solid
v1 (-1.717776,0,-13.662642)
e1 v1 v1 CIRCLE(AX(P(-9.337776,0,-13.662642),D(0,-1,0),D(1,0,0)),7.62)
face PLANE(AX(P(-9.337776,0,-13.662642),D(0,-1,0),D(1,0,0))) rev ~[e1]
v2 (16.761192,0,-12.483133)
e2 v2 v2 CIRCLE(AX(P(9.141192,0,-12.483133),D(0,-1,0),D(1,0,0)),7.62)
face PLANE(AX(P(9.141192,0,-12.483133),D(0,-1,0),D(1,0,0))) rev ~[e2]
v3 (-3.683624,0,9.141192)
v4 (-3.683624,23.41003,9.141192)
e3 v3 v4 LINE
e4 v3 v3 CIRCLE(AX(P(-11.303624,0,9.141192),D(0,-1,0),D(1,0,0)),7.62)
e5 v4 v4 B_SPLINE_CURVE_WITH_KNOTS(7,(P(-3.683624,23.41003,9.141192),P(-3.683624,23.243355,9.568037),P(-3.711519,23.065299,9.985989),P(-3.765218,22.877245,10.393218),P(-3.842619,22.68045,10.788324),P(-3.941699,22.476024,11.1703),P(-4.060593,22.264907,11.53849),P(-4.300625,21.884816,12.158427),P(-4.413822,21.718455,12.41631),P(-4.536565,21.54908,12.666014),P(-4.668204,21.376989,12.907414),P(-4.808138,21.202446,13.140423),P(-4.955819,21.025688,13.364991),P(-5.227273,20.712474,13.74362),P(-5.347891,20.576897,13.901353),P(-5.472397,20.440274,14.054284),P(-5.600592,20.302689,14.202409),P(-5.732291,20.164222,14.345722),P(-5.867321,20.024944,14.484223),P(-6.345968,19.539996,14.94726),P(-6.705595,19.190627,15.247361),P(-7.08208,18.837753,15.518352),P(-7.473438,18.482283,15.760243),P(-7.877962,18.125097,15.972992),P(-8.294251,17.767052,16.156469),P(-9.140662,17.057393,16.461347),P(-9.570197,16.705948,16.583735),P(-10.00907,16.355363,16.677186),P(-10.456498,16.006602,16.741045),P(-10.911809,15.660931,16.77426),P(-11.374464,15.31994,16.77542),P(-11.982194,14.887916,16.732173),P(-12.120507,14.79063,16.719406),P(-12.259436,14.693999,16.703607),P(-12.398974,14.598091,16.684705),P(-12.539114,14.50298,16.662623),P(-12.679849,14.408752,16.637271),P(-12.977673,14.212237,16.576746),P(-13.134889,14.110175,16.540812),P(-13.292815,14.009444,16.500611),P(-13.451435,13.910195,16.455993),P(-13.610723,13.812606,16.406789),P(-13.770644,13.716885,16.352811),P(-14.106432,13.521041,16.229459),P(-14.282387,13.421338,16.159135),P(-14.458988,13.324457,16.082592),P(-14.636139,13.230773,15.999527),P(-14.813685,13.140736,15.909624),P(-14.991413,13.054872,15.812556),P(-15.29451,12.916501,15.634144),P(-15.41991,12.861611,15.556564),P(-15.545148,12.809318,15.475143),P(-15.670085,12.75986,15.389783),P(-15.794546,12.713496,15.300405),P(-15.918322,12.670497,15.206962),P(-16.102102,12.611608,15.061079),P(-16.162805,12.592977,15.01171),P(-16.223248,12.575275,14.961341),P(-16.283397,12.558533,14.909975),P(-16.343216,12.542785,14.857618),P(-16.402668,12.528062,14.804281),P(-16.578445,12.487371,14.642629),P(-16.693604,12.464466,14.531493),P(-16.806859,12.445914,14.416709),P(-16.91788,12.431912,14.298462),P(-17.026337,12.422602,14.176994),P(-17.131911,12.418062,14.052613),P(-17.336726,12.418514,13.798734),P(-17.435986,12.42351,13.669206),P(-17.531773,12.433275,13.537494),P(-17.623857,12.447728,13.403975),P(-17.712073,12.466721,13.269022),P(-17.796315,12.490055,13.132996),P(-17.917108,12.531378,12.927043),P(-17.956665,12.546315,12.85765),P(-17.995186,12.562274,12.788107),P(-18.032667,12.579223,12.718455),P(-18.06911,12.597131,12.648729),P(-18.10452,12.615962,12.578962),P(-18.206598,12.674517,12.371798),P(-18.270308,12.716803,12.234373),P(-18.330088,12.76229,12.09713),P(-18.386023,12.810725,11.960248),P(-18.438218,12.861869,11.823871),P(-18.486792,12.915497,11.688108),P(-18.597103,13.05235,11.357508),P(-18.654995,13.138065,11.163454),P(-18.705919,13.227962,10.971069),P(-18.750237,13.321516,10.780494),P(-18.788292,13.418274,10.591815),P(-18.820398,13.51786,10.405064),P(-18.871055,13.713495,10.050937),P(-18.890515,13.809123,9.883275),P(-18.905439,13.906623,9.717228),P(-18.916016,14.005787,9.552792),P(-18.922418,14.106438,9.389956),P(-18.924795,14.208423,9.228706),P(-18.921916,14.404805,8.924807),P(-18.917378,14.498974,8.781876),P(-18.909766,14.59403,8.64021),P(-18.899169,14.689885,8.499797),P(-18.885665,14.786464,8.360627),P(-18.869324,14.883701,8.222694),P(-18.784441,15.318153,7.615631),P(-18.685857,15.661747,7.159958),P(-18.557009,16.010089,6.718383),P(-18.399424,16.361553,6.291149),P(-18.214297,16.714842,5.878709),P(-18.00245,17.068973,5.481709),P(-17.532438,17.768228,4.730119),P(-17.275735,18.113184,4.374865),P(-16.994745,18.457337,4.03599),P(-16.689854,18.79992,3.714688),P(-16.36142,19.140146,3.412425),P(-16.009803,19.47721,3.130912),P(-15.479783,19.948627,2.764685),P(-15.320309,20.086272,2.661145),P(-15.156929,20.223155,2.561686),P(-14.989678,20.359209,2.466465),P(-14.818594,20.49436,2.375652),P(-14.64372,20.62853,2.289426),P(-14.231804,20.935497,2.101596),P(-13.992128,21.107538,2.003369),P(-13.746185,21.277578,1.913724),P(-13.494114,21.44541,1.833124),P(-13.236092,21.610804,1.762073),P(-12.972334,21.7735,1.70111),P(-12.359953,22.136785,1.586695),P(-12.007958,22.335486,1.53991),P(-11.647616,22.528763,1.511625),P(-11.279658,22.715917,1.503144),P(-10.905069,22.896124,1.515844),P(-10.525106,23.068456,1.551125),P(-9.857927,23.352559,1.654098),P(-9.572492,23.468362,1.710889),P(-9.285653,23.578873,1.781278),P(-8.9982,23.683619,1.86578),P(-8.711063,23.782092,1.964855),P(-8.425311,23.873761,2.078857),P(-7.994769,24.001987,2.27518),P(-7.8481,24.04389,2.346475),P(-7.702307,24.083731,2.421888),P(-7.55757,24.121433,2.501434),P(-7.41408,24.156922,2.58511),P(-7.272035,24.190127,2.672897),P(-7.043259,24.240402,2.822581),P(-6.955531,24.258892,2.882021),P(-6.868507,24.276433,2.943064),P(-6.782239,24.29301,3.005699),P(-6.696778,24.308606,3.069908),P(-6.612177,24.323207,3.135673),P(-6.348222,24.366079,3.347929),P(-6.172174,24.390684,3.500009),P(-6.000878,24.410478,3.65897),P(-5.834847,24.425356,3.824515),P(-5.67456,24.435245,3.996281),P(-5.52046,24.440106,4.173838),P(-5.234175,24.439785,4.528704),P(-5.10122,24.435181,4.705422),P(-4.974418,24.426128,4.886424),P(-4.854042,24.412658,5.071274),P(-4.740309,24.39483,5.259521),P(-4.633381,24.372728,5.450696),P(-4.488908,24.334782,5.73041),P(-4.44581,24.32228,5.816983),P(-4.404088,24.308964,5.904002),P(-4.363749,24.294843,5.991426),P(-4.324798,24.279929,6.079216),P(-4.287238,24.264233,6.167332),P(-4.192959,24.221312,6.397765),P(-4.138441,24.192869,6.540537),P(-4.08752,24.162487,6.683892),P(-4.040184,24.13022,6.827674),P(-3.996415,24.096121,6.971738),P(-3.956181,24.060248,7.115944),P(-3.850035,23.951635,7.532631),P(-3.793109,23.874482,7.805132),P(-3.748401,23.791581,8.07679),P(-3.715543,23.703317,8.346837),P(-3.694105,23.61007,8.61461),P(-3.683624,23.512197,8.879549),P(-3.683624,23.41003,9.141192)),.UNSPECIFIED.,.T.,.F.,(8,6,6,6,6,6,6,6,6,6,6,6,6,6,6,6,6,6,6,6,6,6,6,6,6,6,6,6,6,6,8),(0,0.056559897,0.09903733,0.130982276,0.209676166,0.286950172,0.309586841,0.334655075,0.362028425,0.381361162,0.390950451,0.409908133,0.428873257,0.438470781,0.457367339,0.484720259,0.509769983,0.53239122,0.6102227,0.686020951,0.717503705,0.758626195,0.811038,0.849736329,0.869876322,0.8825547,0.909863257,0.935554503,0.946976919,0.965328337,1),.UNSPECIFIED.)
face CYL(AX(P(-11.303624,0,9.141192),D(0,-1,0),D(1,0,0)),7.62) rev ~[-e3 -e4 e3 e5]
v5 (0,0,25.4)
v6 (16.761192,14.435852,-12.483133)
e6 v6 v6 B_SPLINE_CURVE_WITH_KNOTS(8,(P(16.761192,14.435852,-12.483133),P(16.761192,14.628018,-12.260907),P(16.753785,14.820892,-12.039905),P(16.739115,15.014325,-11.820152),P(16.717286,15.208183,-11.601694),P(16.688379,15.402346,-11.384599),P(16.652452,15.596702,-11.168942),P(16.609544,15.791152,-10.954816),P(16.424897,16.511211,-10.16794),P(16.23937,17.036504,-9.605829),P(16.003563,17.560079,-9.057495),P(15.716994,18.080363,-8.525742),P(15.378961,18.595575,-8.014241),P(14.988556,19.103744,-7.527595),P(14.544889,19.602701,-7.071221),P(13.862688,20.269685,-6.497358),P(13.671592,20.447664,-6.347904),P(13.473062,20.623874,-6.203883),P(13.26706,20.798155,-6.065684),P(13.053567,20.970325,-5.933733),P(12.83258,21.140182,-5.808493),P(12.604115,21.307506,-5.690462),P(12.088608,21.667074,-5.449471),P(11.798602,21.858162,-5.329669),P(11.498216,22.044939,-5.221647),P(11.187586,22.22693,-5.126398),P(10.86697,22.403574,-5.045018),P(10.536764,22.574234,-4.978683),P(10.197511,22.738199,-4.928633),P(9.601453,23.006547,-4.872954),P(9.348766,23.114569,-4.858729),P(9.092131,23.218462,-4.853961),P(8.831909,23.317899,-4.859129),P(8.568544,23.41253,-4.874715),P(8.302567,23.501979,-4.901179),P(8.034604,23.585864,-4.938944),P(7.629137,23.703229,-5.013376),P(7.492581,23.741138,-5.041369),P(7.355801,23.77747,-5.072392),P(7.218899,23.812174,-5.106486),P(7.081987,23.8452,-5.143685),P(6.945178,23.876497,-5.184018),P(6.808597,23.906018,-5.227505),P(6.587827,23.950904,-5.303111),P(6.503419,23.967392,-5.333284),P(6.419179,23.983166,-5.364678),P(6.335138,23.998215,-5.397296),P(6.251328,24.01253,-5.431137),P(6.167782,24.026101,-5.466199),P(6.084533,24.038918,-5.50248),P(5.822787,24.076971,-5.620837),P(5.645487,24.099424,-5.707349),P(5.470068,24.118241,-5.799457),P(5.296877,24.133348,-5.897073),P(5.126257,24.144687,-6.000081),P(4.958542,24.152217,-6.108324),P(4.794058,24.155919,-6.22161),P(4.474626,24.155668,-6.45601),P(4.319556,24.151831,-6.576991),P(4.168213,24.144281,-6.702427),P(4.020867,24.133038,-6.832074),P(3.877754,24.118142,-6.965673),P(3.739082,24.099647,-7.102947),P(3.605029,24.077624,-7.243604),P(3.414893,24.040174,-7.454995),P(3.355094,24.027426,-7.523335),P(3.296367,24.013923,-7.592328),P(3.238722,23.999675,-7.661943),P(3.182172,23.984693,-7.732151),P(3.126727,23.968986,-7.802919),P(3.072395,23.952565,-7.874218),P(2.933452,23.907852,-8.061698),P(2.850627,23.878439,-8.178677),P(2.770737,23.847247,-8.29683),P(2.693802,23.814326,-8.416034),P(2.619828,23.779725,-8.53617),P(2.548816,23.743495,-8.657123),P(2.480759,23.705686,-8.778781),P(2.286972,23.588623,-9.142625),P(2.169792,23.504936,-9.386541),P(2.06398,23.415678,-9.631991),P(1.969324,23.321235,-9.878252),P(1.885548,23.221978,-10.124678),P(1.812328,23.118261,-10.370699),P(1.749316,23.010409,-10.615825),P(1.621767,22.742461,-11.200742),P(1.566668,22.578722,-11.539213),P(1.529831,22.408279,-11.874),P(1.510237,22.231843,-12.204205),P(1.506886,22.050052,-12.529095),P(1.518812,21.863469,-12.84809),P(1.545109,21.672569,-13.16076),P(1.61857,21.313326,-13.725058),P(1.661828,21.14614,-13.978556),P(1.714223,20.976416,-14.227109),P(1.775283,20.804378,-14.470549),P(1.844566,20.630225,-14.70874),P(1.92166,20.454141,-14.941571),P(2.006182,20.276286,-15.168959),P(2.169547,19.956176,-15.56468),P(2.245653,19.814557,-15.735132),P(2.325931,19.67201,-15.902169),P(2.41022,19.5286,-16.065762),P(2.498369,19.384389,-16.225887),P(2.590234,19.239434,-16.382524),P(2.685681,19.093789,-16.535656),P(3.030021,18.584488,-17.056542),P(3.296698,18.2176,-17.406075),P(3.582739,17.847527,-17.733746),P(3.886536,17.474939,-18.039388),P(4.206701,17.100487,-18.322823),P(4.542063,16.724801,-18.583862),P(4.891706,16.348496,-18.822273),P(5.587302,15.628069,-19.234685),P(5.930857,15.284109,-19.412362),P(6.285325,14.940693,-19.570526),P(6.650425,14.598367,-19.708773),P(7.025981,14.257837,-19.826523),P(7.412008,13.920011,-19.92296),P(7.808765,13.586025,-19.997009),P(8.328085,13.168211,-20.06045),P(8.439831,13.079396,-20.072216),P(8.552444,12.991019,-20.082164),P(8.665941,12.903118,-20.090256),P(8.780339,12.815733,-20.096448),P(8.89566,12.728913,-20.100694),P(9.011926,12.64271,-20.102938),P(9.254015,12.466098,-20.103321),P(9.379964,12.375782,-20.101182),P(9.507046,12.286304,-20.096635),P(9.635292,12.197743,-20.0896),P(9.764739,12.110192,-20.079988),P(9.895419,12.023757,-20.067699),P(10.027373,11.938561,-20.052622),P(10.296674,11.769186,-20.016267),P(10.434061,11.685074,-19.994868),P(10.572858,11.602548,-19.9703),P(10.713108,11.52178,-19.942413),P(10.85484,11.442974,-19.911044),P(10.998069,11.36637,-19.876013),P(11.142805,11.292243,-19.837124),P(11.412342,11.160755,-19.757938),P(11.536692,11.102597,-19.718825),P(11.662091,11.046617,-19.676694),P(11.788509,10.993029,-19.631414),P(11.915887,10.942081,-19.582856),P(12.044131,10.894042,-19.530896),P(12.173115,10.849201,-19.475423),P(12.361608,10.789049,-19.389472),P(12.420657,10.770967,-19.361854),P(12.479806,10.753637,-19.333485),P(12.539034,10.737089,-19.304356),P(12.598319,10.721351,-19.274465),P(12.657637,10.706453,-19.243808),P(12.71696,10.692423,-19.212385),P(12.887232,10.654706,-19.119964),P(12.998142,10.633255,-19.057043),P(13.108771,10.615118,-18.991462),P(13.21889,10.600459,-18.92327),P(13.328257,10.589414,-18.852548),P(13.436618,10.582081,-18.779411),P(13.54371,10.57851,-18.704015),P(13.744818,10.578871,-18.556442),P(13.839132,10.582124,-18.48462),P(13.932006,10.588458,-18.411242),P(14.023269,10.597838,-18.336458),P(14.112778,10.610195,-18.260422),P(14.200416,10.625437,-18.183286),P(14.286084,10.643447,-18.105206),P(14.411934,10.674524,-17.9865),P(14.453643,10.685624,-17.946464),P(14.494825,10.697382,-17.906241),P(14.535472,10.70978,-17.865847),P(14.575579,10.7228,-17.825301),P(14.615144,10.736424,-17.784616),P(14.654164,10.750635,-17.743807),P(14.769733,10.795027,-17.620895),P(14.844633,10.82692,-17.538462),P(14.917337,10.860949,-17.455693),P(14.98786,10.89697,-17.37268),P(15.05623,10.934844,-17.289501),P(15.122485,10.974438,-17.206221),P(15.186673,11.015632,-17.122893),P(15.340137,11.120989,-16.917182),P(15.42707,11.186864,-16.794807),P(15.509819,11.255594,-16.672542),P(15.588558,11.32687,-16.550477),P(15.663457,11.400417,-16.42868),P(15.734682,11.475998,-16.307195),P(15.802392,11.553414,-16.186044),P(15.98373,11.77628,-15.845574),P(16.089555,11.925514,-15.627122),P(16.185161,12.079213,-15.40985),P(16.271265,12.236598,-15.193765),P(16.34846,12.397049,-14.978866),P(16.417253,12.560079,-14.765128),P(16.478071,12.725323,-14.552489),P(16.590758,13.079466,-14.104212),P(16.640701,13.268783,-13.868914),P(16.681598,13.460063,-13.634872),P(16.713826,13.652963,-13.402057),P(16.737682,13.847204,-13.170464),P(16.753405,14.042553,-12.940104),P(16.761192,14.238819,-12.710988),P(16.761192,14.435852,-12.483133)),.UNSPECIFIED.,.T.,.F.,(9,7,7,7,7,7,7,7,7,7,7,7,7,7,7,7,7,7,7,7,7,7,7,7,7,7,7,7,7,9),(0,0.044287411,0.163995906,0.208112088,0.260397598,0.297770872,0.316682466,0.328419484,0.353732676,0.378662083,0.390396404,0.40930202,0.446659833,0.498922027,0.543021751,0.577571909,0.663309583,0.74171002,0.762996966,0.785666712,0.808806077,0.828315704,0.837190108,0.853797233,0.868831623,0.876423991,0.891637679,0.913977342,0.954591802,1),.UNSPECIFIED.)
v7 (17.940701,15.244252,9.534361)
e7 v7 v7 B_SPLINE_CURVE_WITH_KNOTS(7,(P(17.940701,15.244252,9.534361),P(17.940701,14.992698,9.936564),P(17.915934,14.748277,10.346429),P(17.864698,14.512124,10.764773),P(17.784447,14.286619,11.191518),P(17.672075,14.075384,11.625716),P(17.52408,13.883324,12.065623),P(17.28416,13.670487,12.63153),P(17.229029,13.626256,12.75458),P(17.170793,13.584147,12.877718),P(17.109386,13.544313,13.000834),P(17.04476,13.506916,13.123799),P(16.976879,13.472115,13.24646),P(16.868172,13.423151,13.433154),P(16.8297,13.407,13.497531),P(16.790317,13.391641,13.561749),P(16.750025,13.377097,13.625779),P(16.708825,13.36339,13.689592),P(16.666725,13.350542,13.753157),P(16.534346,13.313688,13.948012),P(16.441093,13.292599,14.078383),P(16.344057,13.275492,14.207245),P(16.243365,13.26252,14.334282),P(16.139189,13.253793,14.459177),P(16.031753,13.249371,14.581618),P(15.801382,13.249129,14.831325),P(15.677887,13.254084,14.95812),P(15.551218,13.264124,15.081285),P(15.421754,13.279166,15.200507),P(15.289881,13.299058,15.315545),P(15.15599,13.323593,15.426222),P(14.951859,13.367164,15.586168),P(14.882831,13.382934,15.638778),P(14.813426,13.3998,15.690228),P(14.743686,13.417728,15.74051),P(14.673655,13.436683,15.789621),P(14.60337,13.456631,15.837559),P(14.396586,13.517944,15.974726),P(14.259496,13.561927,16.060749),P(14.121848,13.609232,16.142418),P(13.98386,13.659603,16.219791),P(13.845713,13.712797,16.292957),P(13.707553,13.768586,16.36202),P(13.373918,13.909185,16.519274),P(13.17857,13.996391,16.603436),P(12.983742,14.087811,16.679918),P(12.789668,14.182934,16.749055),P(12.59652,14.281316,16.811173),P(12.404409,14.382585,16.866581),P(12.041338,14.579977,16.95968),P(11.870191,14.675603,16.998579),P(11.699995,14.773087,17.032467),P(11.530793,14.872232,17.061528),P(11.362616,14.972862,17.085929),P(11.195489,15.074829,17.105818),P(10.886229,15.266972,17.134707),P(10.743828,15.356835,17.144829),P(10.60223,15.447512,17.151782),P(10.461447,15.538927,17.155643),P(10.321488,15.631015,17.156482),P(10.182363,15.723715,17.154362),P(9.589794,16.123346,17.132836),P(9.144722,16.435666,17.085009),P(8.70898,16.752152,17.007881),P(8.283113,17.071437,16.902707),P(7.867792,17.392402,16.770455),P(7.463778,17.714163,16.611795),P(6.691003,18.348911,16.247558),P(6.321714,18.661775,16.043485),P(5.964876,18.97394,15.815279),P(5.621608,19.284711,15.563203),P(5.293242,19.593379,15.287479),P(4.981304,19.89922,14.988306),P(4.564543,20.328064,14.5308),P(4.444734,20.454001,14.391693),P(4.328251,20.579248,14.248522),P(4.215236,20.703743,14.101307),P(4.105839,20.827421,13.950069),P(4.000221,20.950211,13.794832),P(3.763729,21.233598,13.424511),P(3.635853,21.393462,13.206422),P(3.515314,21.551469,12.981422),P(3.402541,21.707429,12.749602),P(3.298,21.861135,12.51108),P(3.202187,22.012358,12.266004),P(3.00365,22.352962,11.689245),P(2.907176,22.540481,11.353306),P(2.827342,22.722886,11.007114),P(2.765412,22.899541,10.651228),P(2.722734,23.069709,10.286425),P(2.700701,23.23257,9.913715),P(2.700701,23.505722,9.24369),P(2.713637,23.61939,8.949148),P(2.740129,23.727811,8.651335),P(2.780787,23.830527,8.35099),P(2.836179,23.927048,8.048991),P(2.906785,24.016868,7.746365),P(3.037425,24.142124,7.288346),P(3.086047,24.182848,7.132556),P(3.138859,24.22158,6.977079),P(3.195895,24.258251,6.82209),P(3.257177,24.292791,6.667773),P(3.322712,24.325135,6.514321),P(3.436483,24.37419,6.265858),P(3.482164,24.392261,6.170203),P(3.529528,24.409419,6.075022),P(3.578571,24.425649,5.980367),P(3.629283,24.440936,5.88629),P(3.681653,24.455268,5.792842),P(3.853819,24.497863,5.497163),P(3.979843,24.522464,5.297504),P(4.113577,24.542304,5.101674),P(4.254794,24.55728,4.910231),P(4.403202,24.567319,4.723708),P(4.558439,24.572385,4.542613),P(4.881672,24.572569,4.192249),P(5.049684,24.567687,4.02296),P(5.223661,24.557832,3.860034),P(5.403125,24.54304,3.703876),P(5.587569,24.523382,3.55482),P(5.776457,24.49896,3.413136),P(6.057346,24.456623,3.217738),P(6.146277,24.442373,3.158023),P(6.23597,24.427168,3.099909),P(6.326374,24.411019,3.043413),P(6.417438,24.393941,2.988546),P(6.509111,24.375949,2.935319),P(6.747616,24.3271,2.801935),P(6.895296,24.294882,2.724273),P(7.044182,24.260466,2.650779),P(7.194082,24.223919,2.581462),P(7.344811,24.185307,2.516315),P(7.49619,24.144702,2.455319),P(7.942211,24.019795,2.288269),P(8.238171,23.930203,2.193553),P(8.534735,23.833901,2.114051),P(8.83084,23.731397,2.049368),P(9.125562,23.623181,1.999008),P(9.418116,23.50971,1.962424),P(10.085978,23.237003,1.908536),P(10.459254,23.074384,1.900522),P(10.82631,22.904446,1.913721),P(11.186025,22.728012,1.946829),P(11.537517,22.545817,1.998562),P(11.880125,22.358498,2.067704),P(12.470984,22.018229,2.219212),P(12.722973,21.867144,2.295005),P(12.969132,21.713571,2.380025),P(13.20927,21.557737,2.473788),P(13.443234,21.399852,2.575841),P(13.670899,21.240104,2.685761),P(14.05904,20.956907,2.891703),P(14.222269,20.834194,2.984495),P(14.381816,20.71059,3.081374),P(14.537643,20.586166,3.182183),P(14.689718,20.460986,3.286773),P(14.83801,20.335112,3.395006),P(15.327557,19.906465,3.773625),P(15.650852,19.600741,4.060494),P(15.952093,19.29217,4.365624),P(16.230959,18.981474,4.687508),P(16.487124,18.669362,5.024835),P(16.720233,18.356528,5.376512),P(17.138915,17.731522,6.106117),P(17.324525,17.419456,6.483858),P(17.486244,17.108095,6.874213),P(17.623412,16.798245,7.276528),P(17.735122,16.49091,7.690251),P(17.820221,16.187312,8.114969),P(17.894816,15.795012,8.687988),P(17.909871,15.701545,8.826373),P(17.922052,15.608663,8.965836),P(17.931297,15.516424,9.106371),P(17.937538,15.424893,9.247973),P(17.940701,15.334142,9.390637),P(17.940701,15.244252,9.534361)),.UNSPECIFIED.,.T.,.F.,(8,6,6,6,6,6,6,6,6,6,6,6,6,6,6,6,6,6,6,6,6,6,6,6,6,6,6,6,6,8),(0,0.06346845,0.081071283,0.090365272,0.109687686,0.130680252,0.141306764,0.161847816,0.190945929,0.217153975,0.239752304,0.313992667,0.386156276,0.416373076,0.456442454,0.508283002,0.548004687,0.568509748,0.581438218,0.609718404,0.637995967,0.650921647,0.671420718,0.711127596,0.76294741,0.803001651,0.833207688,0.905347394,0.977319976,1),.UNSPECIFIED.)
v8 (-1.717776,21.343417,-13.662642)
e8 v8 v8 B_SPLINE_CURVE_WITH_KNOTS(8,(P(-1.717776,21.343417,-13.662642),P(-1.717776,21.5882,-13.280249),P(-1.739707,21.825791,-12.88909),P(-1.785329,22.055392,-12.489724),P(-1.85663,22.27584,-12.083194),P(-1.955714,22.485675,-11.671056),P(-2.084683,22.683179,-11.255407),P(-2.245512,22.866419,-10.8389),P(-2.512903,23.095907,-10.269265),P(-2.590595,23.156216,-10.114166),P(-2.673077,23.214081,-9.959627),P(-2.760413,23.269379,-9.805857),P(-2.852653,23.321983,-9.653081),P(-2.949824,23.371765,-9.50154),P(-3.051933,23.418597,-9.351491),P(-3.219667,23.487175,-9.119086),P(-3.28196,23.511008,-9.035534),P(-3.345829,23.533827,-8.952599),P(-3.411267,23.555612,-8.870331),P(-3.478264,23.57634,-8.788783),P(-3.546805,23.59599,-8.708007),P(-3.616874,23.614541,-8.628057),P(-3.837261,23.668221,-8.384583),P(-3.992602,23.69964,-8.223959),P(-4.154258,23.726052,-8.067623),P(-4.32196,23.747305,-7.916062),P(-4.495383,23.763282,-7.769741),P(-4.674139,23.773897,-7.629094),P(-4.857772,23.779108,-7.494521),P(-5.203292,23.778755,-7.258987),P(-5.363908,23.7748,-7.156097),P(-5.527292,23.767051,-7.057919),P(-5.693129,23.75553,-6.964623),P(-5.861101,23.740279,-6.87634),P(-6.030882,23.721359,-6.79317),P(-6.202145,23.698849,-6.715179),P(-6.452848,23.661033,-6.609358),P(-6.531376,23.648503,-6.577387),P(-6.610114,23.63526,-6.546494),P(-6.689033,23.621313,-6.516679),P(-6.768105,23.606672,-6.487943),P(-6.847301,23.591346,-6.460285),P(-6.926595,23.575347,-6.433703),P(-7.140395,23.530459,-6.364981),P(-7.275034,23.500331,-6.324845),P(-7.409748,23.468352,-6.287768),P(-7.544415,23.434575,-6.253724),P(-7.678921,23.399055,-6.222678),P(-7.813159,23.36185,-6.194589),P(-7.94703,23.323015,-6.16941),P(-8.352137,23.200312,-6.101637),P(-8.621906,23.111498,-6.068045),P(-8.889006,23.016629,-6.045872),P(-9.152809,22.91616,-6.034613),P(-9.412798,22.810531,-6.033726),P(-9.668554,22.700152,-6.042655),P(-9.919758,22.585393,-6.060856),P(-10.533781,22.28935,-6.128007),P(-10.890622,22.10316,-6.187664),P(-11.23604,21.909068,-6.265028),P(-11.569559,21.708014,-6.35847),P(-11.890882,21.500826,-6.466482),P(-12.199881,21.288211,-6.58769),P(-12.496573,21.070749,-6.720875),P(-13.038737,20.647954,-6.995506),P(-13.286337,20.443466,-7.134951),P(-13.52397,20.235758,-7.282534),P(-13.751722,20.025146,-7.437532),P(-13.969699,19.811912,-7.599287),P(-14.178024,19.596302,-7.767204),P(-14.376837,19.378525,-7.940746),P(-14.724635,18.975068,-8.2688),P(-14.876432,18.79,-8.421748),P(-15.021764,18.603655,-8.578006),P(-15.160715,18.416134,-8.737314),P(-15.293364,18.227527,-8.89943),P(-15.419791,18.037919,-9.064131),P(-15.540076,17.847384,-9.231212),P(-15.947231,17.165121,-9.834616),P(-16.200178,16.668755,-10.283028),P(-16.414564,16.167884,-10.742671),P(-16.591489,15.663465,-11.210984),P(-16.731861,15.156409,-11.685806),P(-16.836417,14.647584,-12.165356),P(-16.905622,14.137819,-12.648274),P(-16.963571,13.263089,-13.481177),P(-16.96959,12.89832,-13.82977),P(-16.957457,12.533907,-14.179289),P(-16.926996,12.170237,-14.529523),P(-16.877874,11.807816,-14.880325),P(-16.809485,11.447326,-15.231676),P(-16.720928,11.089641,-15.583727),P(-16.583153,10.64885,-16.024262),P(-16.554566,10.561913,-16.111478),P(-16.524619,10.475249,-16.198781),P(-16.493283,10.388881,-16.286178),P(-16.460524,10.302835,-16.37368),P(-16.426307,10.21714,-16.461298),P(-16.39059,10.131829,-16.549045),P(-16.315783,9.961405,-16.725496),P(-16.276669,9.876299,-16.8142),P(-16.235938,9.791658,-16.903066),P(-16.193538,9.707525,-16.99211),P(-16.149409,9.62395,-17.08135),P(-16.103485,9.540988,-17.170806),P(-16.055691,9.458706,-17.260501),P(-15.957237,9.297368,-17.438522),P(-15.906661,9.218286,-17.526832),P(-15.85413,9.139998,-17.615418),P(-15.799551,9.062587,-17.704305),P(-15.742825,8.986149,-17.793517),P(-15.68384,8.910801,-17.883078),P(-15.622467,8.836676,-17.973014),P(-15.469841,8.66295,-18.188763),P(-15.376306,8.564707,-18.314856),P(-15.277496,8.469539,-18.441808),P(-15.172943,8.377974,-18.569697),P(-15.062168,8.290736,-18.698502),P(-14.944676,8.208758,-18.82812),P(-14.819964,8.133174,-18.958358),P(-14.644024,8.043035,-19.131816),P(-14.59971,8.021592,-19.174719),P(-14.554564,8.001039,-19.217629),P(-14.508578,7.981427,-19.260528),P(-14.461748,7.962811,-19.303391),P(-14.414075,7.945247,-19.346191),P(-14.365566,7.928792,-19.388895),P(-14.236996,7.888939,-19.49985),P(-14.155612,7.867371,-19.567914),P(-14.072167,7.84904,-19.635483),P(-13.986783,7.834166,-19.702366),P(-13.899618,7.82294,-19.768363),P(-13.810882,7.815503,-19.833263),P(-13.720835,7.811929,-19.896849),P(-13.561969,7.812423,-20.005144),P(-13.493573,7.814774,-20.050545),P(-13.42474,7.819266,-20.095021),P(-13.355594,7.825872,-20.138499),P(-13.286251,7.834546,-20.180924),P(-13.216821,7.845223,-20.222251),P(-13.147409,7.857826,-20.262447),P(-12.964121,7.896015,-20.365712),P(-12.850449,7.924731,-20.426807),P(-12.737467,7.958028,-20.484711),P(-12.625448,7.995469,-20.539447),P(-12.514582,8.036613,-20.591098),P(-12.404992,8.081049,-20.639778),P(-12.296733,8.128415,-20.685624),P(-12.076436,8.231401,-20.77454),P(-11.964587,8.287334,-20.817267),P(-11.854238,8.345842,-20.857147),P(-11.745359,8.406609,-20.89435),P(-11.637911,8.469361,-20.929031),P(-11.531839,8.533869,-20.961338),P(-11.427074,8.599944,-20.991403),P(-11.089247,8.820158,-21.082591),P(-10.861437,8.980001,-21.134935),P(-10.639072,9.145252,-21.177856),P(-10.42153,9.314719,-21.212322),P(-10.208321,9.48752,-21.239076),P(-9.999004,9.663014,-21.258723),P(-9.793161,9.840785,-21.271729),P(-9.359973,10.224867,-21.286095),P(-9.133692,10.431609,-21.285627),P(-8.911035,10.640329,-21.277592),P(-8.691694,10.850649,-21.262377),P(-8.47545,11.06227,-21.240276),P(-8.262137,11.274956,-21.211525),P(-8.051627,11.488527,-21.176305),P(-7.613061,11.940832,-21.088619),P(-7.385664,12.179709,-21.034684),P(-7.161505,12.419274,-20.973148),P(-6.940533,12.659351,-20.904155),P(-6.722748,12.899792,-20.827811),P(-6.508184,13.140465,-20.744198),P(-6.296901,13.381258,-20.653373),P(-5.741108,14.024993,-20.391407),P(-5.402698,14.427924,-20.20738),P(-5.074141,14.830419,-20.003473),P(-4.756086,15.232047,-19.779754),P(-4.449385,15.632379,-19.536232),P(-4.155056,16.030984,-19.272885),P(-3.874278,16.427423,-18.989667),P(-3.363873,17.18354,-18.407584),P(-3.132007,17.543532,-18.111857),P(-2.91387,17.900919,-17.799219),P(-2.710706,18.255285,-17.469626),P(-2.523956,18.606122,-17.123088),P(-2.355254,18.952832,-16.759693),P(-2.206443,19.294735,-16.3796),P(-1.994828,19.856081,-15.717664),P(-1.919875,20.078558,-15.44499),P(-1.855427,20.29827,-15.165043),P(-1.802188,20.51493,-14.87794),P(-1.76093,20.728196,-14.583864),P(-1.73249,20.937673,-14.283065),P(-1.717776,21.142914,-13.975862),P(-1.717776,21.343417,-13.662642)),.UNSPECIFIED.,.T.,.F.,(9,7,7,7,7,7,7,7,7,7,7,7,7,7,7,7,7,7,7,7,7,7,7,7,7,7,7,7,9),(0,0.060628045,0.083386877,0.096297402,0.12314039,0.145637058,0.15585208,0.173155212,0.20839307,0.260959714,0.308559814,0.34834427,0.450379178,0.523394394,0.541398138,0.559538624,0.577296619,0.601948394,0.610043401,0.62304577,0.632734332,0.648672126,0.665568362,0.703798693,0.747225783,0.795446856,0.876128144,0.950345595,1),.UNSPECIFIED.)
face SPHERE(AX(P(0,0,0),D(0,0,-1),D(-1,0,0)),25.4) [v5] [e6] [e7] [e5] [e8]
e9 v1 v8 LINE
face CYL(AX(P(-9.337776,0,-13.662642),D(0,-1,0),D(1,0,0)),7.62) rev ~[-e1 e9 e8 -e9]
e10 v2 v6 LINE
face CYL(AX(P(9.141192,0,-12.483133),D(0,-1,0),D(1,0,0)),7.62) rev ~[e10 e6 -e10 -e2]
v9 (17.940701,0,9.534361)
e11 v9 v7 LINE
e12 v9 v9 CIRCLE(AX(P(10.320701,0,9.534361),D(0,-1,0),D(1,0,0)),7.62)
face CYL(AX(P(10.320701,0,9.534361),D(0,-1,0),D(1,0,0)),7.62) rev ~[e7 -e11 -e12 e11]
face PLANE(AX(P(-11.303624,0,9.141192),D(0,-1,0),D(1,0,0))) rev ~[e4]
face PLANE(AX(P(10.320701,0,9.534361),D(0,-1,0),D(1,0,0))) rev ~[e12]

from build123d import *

# Parameters (mm, degrees)
F2_R     = 7.62
F3_DEPTH = 76.2


with BuildPart() as f1:
    # F0 (on Front) → F1 (revolve)
    with BuildSketch(Plane.XZ):
        with BuildLine():
            Line((0, -25.4), (0, 25.4))
            ThreePointArc((0, 25.4), (-25.4, 0), (0, -25.4))
        make_face()
    revolve(axis=Axis((0, 0, 0), (0, 0, -1)))

    # F2 (on Front) → F3 (cut)
    with BuildSketch(Plane.XZ):
        with Locations((-11.303624, 9.141192)):
            Circle(F2_R)
        with Locations((10.320701, 9.534361)):
            Circle(F2_R)
        with Locations((9.141192, -12.483133)):
            Circle(F2_R)
        with Locations((-9.337776, -13.662642)):
            Circle(F2_R)
    extrude(amount=-F3_DEPTH, mode=Mode.SUBTRACT)


solid = f1.part
